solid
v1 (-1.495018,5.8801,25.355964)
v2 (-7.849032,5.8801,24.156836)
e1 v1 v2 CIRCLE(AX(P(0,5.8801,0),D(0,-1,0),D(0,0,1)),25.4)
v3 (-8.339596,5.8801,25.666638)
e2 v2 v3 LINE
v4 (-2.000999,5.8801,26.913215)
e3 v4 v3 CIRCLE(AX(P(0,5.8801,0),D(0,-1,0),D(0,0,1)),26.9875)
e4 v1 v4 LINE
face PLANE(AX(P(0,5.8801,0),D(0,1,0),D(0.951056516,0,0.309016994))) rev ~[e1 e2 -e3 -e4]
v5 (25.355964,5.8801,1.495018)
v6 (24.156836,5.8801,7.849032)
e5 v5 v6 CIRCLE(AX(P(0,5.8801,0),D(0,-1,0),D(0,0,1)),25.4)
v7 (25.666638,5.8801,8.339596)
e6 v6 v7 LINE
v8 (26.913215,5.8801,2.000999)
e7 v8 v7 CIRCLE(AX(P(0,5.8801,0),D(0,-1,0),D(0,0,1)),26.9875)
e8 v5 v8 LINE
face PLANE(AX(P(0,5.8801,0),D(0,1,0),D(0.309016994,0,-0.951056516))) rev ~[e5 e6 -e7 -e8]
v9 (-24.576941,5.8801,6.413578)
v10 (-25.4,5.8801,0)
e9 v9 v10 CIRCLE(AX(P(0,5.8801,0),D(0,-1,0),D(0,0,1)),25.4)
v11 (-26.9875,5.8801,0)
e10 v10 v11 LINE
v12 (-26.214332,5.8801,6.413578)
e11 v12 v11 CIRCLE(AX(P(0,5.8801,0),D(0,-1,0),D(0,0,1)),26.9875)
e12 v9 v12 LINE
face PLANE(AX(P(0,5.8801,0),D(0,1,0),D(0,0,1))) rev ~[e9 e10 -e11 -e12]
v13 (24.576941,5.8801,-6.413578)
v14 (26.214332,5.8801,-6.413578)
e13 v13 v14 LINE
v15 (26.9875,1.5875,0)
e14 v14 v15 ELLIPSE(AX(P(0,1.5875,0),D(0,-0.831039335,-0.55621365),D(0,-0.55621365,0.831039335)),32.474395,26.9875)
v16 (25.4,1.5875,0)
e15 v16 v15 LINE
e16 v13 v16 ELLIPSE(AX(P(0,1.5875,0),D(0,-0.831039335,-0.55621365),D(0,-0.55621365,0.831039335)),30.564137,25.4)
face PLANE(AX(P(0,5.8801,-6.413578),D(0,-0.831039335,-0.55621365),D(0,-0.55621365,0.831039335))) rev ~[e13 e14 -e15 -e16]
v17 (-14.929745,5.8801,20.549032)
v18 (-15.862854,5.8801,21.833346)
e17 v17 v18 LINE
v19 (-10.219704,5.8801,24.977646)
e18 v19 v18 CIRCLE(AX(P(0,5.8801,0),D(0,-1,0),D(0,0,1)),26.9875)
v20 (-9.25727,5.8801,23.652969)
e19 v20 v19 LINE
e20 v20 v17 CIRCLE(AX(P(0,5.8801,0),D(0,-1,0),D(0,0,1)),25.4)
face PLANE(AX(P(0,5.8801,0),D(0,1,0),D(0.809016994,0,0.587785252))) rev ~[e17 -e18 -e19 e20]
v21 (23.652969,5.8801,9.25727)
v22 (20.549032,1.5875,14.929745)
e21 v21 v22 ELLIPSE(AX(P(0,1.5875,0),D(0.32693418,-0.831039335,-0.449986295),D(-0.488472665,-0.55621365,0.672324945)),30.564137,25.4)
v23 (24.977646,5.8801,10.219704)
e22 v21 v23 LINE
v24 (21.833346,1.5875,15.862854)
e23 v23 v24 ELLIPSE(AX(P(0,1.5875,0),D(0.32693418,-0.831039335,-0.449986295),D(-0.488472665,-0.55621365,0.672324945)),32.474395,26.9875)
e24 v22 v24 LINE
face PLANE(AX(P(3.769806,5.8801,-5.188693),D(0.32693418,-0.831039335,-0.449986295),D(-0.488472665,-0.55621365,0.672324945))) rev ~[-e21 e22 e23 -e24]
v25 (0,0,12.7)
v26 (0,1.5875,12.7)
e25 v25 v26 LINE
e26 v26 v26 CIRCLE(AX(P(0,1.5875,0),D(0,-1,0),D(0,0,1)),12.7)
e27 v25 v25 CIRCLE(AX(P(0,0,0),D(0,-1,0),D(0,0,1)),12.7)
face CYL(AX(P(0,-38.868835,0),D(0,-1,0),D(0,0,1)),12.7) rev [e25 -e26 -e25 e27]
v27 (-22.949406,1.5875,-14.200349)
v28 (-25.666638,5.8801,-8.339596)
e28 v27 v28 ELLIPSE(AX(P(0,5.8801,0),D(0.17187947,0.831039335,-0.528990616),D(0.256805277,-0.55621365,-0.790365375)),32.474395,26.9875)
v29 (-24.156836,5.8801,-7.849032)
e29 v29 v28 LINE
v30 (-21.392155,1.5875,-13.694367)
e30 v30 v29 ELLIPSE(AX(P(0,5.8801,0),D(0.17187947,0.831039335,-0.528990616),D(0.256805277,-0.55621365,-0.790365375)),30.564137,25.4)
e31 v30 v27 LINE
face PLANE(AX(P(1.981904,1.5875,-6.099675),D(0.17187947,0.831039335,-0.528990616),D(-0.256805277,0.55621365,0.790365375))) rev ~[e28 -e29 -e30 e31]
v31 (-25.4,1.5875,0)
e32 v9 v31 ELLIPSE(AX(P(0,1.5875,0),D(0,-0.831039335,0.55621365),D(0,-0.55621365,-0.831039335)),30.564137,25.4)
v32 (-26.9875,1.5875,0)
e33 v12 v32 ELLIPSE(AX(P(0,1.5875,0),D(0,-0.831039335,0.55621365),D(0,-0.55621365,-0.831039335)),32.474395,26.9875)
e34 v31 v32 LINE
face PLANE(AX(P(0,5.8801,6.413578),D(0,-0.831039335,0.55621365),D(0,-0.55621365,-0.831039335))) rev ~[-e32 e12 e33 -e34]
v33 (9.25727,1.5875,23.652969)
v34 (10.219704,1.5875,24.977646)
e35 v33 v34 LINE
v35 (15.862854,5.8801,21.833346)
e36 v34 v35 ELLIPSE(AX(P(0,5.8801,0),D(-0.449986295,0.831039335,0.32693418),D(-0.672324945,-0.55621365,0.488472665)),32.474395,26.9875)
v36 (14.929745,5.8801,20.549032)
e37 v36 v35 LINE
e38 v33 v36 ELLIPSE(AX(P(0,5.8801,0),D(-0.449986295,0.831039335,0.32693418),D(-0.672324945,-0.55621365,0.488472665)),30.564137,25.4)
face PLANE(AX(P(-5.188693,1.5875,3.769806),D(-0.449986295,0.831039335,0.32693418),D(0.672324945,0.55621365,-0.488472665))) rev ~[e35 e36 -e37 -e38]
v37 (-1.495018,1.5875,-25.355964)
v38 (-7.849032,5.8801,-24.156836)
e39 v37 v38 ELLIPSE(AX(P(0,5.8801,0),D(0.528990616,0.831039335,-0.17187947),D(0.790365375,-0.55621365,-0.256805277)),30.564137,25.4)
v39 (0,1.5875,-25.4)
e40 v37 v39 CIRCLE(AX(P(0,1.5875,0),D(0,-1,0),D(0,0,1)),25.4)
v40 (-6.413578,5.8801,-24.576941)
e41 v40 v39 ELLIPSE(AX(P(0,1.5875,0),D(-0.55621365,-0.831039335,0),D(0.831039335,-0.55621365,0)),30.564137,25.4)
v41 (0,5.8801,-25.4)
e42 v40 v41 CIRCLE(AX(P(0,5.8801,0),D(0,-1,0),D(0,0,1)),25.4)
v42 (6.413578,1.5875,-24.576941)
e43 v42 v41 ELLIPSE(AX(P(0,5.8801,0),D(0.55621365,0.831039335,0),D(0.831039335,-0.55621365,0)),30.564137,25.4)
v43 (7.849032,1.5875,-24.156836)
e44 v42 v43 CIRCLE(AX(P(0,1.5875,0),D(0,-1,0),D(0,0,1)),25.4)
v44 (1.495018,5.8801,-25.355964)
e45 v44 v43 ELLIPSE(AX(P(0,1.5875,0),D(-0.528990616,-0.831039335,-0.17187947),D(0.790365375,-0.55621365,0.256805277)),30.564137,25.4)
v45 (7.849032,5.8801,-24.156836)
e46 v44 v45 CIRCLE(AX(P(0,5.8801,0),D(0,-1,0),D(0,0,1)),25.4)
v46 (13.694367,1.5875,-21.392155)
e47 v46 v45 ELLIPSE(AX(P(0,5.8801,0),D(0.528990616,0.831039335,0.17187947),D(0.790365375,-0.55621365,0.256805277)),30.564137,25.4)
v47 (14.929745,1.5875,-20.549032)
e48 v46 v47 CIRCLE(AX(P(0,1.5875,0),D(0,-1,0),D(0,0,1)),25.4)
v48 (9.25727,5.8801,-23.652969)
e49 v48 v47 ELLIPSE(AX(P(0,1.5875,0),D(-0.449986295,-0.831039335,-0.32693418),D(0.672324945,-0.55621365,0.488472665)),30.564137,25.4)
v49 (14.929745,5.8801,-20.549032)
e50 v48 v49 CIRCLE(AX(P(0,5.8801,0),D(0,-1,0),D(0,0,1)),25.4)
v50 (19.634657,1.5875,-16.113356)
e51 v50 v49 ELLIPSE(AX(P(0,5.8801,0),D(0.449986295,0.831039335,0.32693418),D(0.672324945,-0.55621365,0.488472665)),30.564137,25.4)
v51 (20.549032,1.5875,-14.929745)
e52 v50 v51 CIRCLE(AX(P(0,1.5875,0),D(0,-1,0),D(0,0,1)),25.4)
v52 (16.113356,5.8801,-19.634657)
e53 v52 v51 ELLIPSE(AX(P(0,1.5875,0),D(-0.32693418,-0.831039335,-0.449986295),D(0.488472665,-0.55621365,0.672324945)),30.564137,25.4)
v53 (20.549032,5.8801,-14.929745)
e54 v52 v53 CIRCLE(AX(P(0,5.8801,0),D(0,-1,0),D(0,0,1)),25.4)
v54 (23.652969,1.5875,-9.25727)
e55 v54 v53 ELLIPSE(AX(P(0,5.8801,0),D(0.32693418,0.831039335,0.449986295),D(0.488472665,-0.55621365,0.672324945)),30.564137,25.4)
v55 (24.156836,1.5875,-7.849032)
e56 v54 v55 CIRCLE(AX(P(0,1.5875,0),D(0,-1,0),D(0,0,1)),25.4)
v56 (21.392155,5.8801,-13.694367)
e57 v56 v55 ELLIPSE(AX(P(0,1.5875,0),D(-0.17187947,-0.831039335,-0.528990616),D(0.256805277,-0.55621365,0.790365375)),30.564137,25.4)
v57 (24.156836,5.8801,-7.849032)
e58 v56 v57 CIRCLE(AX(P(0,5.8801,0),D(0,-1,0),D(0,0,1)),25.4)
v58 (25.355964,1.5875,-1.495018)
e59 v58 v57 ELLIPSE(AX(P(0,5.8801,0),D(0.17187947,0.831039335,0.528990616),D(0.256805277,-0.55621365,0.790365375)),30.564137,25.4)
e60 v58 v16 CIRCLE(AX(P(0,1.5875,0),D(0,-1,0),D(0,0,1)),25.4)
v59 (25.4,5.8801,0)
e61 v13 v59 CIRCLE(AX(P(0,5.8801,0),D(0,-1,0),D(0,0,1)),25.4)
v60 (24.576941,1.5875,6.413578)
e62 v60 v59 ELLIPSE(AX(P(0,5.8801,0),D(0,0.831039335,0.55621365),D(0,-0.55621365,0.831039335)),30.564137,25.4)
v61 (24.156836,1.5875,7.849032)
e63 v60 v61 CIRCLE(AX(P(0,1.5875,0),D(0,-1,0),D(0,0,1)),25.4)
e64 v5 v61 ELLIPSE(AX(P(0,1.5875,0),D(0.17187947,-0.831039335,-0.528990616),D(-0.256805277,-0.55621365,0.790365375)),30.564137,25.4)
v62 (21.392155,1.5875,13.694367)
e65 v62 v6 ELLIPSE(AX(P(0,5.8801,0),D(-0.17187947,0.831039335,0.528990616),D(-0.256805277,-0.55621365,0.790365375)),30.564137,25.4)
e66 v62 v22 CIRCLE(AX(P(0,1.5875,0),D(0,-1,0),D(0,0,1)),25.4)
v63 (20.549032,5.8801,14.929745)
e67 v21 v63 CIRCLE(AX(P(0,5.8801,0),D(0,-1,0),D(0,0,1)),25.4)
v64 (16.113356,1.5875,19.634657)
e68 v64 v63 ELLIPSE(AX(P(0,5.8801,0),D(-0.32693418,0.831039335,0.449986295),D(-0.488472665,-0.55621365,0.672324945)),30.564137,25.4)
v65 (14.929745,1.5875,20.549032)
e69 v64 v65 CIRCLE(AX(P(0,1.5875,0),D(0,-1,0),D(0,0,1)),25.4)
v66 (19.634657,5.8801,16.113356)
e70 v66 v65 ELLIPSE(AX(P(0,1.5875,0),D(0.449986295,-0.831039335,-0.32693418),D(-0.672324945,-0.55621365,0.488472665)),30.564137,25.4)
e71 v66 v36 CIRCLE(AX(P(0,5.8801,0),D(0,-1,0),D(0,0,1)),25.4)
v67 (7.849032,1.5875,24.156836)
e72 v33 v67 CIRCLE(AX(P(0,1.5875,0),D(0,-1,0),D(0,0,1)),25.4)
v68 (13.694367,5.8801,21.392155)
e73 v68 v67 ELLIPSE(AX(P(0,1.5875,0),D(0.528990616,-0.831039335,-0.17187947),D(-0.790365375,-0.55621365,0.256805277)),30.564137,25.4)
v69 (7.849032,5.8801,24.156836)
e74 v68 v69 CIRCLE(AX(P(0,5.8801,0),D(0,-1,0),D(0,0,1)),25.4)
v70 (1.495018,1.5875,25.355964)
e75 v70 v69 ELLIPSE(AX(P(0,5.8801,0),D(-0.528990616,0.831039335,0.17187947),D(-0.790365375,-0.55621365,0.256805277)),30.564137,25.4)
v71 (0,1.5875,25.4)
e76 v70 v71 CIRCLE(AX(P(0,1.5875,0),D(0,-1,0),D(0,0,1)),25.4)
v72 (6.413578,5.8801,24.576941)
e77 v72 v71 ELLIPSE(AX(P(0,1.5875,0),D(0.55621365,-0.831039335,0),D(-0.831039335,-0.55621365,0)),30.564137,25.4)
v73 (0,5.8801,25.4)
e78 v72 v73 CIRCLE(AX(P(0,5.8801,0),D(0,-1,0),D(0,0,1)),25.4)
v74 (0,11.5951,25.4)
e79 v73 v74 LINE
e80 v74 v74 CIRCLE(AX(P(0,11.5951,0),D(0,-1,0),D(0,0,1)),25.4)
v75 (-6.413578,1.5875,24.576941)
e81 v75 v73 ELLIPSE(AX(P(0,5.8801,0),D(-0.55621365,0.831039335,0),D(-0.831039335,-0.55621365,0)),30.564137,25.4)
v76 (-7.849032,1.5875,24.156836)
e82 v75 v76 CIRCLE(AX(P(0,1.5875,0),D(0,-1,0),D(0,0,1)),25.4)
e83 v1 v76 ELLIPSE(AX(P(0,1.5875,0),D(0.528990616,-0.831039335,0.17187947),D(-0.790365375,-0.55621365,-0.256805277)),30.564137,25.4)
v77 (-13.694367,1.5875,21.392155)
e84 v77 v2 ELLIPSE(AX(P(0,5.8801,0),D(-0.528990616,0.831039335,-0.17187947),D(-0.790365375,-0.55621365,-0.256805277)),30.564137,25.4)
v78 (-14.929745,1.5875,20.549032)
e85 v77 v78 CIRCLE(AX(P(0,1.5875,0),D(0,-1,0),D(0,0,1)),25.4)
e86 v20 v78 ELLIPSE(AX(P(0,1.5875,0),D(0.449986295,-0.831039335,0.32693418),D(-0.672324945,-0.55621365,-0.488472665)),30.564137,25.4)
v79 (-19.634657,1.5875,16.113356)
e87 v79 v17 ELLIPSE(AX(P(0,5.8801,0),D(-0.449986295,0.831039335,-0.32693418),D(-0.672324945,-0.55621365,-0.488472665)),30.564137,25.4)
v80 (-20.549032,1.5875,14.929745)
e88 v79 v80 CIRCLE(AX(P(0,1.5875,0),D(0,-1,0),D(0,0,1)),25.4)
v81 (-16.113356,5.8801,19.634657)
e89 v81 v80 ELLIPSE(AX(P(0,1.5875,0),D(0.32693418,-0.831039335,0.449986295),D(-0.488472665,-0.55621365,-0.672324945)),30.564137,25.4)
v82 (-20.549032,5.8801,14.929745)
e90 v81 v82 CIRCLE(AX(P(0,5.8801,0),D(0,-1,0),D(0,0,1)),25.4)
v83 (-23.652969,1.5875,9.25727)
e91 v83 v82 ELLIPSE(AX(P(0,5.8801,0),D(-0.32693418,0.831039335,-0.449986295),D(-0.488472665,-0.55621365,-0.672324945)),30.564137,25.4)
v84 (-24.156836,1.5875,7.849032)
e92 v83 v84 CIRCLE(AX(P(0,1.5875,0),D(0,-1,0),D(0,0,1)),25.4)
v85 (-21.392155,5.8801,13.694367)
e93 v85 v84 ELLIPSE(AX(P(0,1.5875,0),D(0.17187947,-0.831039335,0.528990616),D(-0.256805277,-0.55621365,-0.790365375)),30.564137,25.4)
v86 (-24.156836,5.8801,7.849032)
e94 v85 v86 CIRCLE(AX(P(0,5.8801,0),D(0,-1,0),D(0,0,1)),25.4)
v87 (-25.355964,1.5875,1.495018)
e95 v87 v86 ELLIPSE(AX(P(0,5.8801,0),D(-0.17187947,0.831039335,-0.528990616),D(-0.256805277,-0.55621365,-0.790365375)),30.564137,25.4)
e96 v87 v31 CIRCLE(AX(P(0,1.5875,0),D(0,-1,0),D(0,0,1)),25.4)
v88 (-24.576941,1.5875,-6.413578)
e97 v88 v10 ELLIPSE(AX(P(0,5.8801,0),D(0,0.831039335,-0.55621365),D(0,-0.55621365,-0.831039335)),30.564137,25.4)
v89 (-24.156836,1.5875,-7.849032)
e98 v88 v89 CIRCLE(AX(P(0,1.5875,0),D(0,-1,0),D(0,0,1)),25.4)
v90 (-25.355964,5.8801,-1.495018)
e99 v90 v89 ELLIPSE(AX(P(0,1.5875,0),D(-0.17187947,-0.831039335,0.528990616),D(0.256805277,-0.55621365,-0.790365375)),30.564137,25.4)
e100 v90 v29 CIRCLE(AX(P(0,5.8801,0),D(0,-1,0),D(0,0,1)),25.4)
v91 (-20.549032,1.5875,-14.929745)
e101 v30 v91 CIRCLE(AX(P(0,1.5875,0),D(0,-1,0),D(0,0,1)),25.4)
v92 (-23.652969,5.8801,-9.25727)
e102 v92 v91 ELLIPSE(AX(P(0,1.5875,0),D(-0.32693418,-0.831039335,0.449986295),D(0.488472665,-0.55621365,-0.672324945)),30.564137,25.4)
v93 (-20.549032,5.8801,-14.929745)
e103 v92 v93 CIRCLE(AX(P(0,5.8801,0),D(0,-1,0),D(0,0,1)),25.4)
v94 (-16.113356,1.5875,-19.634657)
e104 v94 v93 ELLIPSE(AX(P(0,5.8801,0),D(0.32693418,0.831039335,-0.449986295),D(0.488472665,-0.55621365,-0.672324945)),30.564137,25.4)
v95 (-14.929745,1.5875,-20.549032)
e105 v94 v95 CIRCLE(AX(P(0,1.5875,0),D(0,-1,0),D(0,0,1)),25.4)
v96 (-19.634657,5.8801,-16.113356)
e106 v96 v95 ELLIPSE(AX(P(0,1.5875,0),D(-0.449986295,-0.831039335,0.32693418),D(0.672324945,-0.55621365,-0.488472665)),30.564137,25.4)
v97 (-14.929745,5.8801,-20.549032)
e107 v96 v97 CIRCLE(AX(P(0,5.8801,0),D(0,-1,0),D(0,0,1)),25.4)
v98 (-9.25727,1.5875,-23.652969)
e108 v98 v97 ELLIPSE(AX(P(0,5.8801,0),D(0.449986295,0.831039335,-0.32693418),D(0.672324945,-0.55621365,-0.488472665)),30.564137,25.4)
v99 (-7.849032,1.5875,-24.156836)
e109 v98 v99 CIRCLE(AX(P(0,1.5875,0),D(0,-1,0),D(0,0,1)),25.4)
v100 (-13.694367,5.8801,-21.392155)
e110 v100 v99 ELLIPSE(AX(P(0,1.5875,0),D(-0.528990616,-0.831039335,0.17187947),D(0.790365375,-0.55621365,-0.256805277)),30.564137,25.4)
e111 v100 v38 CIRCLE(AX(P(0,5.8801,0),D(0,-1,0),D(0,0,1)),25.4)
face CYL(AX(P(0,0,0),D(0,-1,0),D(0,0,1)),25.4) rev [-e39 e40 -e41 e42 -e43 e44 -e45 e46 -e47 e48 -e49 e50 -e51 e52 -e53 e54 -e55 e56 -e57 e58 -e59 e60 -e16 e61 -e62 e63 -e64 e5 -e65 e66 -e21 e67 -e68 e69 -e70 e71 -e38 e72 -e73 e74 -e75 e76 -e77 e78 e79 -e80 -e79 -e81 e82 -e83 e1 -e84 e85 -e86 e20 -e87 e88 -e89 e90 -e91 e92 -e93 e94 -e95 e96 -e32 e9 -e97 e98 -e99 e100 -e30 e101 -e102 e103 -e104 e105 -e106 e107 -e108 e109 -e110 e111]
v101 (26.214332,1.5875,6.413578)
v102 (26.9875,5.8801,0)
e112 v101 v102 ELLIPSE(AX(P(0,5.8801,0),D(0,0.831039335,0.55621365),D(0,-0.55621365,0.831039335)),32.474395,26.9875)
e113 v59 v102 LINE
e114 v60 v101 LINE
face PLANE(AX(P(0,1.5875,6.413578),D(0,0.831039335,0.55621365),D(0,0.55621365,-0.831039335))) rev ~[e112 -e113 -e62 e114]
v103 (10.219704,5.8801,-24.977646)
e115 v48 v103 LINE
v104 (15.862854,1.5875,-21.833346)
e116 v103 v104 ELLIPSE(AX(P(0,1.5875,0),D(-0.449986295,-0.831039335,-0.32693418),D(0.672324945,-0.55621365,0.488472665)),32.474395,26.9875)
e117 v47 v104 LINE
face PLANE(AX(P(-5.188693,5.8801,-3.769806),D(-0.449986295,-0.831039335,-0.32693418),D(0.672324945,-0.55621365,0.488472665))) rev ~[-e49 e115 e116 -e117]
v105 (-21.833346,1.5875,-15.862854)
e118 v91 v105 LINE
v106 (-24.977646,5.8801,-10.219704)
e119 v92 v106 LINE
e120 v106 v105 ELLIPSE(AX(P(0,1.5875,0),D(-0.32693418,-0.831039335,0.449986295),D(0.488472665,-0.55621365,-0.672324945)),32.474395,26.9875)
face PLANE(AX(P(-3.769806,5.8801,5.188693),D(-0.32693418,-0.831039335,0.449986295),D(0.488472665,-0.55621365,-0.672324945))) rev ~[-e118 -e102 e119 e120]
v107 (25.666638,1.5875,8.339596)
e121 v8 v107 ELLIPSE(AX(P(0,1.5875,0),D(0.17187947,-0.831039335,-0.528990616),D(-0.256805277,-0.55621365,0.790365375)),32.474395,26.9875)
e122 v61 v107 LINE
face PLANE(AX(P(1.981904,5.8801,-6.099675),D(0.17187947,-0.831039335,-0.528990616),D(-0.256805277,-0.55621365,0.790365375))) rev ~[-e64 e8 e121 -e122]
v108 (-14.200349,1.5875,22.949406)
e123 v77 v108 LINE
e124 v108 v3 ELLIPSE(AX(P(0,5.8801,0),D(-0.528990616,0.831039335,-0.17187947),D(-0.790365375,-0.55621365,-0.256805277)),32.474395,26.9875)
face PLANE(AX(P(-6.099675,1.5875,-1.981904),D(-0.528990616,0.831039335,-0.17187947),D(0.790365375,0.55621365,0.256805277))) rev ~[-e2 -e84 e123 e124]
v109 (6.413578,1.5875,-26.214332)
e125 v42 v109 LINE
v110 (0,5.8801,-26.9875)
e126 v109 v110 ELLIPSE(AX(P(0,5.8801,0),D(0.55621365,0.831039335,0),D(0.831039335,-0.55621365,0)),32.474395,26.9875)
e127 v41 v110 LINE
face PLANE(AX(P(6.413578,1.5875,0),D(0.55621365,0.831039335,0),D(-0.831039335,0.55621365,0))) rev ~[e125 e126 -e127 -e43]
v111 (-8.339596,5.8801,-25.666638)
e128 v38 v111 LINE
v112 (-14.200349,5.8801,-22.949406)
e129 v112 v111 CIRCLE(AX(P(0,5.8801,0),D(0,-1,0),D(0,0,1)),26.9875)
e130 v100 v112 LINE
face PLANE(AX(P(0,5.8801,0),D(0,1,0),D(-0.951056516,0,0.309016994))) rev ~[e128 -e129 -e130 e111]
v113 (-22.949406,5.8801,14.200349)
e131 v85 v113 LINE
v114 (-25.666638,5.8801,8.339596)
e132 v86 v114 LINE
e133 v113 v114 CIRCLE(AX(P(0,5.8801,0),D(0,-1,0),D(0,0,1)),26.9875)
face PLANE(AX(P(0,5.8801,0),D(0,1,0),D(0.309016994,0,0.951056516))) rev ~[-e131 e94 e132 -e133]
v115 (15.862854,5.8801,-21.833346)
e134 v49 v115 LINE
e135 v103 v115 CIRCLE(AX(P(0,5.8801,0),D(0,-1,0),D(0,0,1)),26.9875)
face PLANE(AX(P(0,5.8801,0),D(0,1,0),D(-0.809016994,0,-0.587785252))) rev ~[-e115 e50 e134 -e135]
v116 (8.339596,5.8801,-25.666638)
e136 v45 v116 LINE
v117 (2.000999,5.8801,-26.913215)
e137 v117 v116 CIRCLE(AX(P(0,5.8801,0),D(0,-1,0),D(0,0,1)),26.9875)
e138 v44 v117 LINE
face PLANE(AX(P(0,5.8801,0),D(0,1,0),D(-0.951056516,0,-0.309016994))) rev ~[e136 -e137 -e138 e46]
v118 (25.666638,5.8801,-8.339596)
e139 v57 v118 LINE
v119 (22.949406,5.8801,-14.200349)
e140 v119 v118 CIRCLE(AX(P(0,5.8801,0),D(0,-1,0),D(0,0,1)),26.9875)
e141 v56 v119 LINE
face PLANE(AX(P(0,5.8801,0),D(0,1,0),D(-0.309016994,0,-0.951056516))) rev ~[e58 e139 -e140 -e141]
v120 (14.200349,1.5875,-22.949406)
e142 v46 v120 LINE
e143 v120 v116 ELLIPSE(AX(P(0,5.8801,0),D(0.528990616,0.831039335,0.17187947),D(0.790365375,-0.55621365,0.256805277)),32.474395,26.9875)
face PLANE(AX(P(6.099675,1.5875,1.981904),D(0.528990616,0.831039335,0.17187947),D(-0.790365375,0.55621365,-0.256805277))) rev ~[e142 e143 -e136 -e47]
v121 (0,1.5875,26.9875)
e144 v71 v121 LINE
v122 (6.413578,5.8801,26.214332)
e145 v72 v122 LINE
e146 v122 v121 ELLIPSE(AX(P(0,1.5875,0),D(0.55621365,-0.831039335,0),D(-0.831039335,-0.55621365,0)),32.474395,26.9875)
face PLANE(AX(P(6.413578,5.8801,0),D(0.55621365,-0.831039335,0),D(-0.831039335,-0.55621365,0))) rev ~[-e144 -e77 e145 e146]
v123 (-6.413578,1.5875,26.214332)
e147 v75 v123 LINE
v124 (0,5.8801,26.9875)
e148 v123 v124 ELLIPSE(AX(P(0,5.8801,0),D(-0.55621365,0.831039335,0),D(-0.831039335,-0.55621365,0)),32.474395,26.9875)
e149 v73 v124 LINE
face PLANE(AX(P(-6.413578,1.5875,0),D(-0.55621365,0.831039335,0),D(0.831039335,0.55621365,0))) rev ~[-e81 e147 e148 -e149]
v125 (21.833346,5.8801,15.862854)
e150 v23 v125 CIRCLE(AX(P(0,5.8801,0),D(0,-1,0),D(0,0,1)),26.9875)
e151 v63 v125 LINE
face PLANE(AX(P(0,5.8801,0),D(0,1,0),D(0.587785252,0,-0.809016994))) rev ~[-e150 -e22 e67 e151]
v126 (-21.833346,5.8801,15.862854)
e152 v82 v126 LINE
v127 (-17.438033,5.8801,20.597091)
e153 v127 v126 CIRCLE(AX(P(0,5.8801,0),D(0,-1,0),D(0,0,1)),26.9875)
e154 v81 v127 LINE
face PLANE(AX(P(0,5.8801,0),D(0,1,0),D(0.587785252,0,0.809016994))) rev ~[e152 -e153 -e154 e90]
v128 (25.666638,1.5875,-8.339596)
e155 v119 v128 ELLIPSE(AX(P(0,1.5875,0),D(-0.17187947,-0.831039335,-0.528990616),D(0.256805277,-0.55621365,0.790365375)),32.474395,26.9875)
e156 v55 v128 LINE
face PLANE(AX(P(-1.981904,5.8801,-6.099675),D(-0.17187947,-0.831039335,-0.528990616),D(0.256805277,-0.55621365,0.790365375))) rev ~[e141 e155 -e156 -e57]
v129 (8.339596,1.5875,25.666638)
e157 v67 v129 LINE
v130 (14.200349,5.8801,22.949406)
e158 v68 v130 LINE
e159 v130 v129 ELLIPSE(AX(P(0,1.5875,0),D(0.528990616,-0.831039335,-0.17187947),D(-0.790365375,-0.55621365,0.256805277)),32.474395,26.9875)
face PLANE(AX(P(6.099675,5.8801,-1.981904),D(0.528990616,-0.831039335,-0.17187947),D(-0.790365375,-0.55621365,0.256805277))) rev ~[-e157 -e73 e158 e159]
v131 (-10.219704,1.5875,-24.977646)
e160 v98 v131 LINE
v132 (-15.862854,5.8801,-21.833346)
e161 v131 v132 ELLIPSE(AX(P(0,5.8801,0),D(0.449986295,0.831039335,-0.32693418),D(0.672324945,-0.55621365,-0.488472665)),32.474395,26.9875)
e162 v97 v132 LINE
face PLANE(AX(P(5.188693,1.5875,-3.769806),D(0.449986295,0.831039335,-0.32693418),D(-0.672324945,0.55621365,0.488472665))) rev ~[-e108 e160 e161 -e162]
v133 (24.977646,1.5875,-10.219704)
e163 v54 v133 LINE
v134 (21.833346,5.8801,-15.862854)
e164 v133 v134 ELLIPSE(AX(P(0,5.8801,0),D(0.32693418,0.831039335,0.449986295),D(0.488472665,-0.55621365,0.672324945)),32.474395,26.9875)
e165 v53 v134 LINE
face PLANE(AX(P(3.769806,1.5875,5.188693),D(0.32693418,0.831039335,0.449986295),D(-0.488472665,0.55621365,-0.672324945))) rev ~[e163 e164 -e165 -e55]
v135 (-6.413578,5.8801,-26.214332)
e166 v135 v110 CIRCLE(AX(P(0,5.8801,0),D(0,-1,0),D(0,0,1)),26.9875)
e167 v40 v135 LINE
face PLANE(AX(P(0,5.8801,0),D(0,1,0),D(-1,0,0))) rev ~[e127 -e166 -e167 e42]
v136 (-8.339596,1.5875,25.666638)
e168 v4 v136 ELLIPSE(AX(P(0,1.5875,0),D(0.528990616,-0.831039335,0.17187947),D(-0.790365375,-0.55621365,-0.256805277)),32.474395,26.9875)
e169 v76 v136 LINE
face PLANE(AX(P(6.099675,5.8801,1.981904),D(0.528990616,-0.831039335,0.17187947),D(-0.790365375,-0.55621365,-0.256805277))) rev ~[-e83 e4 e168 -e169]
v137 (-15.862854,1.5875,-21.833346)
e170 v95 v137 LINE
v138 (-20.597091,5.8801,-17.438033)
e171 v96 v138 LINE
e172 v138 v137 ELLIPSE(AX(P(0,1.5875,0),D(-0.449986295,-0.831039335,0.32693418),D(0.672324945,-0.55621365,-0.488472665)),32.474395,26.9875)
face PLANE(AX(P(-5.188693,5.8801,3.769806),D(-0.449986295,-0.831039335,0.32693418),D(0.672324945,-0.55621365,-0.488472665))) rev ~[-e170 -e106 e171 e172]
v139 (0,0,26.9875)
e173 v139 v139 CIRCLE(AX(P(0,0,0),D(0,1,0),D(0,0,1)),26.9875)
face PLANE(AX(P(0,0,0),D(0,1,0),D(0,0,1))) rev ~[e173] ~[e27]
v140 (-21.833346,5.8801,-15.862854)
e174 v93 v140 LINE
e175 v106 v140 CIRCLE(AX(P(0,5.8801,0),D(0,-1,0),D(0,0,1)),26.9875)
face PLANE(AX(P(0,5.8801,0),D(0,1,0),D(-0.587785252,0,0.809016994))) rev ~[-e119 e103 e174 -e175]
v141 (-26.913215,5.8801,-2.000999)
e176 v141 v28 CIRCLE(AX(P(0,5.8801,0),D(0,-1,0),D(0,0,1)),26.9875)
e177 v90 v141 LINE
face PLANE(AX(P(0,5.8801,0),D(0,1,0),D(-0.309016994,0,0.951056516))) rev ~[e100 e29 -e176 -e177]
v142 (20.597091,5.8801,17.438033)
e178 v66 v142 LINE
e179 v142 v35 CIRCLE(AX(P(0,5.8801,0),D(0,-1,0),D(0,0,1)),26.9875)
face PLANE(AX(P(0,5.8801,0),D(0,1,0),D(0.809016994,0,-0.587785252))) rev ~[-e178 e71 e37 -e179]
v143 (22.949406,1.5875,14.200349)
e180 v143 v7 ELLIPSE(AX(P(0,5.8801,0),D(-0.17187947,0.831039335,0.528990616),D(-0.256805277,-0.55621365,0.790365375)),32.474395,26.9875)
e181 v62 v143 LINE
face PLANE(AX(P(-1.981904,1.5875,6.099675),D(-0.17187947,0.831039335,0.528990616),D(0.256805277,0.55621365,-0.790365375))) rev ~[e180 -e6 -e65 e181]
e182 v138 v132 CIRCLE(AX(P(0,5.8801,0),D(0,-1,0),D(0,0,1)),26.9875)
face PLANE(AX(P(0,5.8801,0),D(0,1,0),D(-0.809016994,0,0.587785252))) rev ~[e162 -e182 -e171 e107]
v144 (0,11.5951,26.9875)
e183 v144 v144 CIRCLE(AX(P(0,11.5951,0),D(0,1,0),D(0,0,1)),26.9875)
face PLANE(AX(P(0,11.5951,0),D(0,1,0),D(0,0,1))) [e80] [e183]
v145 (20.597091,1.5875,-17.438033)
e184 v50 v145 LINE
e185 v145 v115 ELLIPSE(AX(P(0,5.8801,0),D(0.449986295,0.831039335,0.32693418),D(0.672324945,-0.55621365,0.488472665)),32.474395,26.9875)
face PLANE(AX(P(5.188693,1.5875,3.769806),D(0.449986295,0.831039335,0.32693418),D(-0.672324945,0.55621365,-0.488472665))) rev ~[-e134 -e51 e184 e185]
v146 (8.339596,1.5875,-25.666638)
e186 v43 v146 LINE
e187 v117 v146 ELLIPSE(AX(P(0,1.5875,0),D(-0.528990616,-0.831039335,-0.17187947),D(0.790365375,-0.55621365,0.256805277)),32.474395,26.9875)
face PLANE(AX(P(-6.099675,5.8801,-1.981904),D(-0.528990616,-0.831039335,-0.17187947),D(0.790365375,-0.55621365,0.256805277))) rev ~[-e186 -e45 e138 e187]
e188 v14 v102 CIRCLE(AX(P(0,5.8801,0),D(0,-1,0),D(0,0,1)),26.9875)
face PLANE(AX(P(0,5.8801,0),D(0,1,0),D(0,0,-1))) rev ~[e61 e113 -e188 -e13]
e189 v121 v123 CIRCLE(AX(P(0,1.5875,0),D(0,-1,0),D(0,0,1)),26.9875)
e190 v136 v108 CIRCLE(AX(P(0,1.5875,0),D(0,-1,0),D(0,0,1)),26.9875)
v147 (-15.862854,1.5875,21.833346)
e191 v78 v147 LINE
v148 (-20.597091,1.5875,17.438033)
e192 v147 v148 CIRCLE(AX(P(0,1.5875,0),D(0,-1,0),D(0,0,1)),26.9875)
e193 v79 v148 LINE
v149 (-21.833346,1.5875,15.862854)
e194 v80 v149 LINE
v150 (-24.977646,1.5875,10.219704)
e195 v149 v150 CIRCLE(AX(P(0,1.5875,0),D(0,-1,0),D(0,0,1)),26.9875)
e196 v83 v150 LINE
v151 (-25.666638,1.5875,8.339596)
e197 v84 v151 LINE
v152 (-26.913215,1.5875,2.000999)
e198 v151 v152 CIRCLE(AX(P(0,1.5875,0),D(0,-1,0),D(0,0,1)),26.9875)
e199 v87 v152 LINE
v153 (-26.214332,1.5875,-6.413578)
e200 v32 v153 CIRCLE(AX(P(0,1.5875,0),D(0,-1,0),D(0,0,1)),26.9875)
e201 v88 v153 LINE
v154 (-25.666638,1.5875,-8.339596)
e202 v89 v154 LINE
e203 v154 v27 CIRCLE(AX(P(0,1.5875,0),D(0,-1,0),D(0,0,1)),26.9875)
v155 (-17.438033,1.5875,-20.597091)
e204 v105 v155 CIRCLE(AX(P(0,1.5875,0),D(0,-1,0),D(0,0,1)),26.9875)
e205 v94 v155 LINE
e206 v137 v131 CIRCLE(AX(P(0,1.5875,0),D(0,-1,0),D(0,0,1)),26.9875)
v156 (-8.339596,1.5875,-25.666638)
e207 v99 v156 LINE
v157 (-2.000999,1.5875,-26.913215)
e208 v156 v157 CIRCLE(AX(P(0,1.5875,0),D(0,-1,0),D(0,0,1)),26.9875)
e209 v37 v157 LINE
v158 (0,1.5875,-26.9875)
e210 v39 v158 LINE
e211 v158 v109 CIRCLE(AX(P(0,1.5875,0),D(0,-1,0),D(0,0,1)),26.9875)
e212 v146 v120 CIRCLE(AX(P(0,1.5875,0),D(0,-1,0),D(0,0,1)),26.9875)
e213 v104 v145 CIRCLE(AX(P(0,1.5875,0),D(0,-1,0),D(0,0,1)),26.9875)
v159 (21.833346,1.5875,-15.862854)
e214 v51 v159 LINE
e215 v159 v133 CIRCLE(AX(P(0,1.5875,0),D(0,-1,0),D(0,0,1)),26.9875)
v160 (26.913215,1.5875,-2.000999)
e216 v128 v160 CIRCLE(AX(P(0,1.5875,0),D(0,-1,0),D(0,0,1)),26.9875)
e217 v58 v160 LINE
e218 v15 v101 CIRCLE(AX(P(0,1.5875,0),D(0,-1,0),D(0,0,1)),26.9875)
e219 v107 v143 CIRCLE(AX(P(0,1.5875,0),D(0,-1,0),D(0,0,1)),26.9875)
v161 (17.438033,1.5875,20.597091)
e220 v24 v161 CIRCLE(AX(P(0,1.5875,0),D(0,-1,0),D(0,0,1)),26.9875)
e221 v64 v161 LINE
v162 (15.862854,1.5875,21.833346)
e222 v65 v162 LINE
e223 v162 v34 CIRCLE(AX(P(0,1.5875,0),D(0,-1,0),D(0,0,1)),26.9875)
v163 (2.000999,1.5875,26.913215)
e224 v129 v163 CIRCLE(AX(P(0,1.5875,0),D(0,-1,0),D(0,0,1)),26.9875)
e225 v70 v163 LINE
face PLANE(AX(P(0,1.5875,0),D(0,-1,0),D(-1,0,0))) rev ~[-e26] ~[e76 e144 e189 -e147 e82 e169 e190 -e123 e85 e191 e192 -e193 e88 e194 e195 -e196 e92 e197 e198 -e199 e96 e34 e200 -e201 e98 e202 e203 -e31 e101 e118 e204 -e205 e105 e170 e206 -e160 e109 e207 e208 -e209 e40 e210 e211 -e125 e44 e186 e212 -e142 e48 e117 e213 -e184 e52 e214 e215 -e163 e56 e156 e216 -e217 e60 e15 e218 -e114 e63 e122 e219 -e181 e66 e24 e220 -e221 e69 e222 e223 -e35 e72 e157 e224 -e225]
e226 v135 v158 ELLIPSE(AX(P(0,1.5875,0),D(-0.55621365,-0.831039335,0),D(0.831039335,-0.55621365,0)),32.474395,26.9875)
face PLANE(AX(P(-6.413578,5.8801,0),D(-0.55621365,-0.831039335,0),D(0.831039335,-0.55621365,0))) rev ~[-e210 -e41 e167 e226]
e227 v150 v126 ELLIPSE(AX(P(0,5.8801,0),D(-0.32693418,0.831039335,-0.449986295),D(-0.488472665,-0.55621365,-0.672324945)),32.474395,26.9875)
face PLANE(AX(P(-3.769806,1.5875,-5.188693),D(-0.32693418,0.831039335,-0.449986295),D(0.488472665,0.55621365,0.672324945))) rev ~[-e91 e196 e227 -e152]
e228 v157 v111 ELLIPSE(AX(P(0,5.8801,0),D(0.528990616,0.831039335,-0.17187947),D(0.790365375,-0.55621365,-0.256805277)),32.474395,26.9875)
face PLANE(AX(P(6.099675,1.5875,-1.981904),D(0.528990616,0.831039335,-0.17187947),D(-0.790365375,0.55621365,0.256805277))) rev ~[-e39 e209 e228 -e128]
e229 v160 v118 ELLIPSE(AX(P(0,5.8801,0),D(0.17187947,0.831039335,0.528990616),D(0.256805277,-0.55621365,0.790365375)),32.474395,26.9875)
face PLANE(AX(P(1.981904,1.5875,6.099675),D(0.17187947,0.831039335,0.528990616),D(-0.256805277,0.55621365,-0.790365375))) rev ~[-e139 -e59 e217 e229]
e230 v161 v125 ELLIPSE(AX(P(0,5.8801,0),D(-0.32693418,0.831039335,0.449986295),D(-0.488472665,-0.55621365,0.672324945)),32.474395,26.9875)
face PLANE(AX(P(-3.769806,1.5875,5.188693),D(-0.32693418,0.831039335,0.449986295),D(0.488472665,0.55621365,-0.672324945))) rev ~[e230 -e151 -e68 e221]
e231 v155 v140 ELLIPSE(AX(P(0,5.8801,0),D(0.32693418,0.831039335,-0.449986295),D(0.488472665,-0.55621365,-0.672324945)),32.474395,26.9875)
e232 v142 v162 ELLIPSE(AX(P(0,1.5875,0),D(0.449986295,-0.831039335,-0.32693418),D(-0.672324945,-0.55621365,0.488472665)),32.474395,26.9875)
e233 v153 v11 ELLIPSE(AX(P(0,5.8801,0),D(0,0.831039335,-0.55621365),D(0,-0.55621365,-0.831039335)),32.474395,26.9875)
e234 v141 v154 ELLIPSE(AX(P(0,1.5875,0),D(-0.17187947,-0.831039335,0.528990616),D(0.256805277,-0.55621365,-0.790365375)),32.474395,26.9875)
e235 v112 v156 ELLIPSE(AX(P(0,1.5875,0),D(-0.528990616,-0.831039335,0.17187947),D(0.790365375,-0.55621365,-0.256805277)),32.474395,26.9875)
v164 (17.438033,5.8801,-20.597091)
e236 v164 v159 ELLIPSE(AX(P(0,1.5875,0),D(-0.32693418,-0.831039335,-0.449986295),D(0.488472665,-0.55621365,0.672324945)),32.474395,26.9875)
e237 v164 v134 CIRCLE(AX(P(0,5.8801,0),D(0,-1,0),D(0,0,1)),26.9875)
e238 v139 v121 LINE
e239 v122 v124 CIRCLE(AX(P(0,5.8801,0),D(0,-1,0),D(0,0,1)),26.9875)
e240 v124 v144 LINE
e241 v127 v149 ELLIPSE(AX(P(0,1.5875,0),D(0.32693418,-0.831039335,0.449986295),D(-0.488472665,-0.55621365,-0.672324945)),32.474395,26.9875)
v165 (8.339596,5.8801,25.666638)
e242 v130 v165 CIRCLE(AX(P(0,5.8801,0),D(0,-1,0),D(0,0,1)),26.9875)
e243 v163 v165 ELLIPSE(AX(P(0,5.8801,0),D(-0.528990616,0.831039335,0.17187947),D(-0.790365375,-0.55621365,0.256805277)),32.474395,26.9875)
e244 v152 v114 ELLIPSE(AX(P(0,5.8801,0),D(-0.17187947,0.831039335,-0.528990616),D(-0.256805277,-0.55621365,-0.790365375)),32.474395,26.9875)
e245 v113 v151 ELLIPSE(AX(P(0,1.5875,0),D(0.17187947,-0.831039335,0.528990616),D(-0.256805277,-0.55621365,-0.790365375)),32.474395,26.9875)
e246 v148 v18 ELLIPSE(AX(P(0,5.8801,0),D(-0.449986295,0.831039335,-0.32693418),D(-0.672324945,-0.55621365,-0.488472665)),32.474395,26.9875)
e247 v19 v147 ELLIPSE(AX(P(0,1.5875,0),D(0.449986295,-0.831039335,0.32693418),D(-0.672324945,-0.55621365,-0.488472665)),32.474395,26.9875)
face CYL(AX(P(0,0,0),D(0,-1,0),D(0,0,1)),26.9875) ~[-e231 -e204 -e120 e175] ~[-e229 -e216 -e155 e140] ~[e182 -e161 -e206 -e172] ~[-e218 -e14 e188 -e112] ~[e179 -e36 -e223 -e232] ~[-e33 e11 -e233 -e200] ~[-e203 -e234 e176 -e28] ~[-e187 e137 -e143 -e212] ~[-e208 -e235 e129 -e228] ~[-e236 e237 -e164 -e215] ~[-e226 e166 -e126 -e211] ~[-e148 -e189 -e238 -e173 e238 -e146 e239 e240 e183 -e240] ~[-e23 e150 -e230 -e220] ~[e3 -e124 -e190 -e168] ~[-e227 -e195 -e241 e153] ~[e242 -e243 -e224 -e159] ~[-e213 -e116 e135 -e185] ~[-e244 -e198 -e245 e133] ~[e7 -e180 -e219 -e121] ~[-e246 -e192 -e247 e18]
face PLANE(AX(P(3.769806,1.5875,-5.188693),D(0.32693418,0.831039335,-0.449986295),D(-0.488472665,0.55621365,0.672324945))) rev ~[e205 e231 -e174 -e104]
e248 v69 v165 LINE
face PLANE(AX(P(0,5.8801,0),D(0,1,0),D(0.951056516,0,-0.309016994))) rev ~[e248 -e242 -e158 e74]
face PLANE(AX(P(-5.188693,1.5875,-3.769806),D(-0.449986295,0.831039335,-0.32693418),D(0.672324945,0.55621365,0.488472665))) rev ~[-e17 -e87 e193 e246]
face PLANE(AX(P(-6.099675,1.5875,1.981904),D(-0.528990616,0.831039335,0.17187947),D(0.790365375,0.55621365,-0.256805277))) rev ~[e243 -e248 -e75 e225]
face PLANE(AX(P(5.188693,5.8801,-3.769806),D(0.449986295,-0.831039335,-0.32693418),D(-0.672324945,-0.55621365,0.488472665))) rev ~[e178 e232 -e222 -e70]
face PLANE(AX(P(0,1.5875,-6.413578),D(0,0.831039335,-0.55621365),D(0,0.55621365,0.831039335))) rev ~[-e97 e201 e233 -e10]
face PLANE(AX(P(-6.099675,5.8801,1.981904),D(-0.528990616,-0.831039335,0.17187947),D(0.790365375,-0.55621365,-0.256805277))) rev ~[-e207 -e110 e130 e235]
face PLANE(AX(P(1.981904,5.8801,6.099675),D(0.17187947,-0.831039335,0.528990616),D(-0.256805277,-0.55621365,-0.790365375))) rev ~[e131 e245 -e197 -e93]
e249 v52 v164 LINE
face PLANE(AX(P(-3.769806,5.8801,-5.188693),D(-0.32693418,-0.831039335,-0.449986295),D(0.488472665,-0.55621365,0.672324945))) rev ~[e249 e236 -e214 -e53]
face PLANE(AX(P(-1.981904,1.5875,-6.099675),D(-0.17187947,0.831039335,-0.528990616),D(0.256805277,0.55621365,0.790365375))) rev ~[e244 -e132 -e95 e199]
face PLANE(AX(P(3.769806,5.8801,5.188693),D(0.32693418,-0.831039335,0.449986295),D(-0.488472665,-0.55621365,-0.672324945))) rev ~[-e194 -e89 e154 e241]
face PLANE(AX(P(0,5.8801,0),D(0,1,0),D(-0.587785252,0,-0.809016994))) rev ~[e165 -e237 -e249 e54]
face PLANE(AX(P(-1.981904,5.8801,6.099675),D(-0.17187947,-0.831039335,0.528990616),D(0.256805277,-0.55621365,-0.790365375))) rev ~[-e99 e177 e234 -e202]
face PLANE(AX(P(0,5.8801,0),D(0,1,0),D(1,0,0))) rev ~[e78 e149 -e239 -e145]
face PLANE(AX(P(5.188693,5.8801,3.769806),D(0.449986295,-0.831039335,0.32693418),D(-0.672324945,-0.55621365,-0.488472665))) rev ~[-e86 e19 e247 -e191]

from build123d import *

# Parameters (mm, degrees)
SKETCH2_R               = 26.9875
BOSS_EXTRUDE1_DEPTH     = 11.5951
SHELL1_T                = -1.5875
CUT_EXTRUDE1_DEPTH      = 40.456334983
CUT_EXTRUDE1_DEPTH_BACK = 40.456334983
SKETCH5_R               = 12.7
CUT_EXTRUDE2_DEPTH      = 38.1
CIRPATTERN3_COUNT       = 20


with BuildPart() as part:
    # Sketch2 → Boss-Extrude1 (new body)
    with BuildSketch(Plane(origin=(0, 0, 0), x_dir=(1, 0, 0), z_dir=(0, 1, 0))):
        Circle(SKETCH2_R)
    extrude(amount=BOSS_EXTRUDE1_DEPTH)

    # Shell1
    shell1_openings = [part.faces().sort_by_distance(p)[0] for p in [
        (0, 11.5951, 0),
    ]]
    offset(amount=SHELL1_T, openings=shell1_openings, kind=Kind.INTERSECTION)

    # Sketch5 → Cut-Extrude1 (cut, two sides: drawn at the far end of the back side and taken through both)
    with BuildSketch(Plane(origin=(0, 1.5875, 0), x_dir=(1, 0, 0), z_dir=(0, 1, 0)).offset(-CUT_EXTRUDE1_DEPTH_BACK)):
        Circle(SKETCH5_R)
    extrude(amount=CUT_EXTRUDE1_DEPTH + CUT_EXTRUDE1_DEPTH_BACK, mode=Mode.SUBTRACT)

    # Sketch6 → Cut-Extrude2 (cut)
    with BuildSketch(Plane.XY):
        Polygon((6.413577678, 1.5875), (0, 5.8801), (-6.413577678, 5.8801), (0, 1.5875), align=None)
    cut_extrude2 = extrude(amount=-CUT_EXTRUDE2_DEPTH, mode=Mode.SUBTRACT)

    # CirPattern3: Cut-Extrude2 ×20 about axis
    cirpattern3_axis = Axis((0, 11.5951, 0), (0, -1, 0))
    for i in range(1, CIRPATTERN3_COUNT):
        add(cut_extrude2.rotate(cirpattern3_axis, i * 360 / CIRPATTERN3_COUNT), mode=Mode.SUBTRACT)


solid = part.part
